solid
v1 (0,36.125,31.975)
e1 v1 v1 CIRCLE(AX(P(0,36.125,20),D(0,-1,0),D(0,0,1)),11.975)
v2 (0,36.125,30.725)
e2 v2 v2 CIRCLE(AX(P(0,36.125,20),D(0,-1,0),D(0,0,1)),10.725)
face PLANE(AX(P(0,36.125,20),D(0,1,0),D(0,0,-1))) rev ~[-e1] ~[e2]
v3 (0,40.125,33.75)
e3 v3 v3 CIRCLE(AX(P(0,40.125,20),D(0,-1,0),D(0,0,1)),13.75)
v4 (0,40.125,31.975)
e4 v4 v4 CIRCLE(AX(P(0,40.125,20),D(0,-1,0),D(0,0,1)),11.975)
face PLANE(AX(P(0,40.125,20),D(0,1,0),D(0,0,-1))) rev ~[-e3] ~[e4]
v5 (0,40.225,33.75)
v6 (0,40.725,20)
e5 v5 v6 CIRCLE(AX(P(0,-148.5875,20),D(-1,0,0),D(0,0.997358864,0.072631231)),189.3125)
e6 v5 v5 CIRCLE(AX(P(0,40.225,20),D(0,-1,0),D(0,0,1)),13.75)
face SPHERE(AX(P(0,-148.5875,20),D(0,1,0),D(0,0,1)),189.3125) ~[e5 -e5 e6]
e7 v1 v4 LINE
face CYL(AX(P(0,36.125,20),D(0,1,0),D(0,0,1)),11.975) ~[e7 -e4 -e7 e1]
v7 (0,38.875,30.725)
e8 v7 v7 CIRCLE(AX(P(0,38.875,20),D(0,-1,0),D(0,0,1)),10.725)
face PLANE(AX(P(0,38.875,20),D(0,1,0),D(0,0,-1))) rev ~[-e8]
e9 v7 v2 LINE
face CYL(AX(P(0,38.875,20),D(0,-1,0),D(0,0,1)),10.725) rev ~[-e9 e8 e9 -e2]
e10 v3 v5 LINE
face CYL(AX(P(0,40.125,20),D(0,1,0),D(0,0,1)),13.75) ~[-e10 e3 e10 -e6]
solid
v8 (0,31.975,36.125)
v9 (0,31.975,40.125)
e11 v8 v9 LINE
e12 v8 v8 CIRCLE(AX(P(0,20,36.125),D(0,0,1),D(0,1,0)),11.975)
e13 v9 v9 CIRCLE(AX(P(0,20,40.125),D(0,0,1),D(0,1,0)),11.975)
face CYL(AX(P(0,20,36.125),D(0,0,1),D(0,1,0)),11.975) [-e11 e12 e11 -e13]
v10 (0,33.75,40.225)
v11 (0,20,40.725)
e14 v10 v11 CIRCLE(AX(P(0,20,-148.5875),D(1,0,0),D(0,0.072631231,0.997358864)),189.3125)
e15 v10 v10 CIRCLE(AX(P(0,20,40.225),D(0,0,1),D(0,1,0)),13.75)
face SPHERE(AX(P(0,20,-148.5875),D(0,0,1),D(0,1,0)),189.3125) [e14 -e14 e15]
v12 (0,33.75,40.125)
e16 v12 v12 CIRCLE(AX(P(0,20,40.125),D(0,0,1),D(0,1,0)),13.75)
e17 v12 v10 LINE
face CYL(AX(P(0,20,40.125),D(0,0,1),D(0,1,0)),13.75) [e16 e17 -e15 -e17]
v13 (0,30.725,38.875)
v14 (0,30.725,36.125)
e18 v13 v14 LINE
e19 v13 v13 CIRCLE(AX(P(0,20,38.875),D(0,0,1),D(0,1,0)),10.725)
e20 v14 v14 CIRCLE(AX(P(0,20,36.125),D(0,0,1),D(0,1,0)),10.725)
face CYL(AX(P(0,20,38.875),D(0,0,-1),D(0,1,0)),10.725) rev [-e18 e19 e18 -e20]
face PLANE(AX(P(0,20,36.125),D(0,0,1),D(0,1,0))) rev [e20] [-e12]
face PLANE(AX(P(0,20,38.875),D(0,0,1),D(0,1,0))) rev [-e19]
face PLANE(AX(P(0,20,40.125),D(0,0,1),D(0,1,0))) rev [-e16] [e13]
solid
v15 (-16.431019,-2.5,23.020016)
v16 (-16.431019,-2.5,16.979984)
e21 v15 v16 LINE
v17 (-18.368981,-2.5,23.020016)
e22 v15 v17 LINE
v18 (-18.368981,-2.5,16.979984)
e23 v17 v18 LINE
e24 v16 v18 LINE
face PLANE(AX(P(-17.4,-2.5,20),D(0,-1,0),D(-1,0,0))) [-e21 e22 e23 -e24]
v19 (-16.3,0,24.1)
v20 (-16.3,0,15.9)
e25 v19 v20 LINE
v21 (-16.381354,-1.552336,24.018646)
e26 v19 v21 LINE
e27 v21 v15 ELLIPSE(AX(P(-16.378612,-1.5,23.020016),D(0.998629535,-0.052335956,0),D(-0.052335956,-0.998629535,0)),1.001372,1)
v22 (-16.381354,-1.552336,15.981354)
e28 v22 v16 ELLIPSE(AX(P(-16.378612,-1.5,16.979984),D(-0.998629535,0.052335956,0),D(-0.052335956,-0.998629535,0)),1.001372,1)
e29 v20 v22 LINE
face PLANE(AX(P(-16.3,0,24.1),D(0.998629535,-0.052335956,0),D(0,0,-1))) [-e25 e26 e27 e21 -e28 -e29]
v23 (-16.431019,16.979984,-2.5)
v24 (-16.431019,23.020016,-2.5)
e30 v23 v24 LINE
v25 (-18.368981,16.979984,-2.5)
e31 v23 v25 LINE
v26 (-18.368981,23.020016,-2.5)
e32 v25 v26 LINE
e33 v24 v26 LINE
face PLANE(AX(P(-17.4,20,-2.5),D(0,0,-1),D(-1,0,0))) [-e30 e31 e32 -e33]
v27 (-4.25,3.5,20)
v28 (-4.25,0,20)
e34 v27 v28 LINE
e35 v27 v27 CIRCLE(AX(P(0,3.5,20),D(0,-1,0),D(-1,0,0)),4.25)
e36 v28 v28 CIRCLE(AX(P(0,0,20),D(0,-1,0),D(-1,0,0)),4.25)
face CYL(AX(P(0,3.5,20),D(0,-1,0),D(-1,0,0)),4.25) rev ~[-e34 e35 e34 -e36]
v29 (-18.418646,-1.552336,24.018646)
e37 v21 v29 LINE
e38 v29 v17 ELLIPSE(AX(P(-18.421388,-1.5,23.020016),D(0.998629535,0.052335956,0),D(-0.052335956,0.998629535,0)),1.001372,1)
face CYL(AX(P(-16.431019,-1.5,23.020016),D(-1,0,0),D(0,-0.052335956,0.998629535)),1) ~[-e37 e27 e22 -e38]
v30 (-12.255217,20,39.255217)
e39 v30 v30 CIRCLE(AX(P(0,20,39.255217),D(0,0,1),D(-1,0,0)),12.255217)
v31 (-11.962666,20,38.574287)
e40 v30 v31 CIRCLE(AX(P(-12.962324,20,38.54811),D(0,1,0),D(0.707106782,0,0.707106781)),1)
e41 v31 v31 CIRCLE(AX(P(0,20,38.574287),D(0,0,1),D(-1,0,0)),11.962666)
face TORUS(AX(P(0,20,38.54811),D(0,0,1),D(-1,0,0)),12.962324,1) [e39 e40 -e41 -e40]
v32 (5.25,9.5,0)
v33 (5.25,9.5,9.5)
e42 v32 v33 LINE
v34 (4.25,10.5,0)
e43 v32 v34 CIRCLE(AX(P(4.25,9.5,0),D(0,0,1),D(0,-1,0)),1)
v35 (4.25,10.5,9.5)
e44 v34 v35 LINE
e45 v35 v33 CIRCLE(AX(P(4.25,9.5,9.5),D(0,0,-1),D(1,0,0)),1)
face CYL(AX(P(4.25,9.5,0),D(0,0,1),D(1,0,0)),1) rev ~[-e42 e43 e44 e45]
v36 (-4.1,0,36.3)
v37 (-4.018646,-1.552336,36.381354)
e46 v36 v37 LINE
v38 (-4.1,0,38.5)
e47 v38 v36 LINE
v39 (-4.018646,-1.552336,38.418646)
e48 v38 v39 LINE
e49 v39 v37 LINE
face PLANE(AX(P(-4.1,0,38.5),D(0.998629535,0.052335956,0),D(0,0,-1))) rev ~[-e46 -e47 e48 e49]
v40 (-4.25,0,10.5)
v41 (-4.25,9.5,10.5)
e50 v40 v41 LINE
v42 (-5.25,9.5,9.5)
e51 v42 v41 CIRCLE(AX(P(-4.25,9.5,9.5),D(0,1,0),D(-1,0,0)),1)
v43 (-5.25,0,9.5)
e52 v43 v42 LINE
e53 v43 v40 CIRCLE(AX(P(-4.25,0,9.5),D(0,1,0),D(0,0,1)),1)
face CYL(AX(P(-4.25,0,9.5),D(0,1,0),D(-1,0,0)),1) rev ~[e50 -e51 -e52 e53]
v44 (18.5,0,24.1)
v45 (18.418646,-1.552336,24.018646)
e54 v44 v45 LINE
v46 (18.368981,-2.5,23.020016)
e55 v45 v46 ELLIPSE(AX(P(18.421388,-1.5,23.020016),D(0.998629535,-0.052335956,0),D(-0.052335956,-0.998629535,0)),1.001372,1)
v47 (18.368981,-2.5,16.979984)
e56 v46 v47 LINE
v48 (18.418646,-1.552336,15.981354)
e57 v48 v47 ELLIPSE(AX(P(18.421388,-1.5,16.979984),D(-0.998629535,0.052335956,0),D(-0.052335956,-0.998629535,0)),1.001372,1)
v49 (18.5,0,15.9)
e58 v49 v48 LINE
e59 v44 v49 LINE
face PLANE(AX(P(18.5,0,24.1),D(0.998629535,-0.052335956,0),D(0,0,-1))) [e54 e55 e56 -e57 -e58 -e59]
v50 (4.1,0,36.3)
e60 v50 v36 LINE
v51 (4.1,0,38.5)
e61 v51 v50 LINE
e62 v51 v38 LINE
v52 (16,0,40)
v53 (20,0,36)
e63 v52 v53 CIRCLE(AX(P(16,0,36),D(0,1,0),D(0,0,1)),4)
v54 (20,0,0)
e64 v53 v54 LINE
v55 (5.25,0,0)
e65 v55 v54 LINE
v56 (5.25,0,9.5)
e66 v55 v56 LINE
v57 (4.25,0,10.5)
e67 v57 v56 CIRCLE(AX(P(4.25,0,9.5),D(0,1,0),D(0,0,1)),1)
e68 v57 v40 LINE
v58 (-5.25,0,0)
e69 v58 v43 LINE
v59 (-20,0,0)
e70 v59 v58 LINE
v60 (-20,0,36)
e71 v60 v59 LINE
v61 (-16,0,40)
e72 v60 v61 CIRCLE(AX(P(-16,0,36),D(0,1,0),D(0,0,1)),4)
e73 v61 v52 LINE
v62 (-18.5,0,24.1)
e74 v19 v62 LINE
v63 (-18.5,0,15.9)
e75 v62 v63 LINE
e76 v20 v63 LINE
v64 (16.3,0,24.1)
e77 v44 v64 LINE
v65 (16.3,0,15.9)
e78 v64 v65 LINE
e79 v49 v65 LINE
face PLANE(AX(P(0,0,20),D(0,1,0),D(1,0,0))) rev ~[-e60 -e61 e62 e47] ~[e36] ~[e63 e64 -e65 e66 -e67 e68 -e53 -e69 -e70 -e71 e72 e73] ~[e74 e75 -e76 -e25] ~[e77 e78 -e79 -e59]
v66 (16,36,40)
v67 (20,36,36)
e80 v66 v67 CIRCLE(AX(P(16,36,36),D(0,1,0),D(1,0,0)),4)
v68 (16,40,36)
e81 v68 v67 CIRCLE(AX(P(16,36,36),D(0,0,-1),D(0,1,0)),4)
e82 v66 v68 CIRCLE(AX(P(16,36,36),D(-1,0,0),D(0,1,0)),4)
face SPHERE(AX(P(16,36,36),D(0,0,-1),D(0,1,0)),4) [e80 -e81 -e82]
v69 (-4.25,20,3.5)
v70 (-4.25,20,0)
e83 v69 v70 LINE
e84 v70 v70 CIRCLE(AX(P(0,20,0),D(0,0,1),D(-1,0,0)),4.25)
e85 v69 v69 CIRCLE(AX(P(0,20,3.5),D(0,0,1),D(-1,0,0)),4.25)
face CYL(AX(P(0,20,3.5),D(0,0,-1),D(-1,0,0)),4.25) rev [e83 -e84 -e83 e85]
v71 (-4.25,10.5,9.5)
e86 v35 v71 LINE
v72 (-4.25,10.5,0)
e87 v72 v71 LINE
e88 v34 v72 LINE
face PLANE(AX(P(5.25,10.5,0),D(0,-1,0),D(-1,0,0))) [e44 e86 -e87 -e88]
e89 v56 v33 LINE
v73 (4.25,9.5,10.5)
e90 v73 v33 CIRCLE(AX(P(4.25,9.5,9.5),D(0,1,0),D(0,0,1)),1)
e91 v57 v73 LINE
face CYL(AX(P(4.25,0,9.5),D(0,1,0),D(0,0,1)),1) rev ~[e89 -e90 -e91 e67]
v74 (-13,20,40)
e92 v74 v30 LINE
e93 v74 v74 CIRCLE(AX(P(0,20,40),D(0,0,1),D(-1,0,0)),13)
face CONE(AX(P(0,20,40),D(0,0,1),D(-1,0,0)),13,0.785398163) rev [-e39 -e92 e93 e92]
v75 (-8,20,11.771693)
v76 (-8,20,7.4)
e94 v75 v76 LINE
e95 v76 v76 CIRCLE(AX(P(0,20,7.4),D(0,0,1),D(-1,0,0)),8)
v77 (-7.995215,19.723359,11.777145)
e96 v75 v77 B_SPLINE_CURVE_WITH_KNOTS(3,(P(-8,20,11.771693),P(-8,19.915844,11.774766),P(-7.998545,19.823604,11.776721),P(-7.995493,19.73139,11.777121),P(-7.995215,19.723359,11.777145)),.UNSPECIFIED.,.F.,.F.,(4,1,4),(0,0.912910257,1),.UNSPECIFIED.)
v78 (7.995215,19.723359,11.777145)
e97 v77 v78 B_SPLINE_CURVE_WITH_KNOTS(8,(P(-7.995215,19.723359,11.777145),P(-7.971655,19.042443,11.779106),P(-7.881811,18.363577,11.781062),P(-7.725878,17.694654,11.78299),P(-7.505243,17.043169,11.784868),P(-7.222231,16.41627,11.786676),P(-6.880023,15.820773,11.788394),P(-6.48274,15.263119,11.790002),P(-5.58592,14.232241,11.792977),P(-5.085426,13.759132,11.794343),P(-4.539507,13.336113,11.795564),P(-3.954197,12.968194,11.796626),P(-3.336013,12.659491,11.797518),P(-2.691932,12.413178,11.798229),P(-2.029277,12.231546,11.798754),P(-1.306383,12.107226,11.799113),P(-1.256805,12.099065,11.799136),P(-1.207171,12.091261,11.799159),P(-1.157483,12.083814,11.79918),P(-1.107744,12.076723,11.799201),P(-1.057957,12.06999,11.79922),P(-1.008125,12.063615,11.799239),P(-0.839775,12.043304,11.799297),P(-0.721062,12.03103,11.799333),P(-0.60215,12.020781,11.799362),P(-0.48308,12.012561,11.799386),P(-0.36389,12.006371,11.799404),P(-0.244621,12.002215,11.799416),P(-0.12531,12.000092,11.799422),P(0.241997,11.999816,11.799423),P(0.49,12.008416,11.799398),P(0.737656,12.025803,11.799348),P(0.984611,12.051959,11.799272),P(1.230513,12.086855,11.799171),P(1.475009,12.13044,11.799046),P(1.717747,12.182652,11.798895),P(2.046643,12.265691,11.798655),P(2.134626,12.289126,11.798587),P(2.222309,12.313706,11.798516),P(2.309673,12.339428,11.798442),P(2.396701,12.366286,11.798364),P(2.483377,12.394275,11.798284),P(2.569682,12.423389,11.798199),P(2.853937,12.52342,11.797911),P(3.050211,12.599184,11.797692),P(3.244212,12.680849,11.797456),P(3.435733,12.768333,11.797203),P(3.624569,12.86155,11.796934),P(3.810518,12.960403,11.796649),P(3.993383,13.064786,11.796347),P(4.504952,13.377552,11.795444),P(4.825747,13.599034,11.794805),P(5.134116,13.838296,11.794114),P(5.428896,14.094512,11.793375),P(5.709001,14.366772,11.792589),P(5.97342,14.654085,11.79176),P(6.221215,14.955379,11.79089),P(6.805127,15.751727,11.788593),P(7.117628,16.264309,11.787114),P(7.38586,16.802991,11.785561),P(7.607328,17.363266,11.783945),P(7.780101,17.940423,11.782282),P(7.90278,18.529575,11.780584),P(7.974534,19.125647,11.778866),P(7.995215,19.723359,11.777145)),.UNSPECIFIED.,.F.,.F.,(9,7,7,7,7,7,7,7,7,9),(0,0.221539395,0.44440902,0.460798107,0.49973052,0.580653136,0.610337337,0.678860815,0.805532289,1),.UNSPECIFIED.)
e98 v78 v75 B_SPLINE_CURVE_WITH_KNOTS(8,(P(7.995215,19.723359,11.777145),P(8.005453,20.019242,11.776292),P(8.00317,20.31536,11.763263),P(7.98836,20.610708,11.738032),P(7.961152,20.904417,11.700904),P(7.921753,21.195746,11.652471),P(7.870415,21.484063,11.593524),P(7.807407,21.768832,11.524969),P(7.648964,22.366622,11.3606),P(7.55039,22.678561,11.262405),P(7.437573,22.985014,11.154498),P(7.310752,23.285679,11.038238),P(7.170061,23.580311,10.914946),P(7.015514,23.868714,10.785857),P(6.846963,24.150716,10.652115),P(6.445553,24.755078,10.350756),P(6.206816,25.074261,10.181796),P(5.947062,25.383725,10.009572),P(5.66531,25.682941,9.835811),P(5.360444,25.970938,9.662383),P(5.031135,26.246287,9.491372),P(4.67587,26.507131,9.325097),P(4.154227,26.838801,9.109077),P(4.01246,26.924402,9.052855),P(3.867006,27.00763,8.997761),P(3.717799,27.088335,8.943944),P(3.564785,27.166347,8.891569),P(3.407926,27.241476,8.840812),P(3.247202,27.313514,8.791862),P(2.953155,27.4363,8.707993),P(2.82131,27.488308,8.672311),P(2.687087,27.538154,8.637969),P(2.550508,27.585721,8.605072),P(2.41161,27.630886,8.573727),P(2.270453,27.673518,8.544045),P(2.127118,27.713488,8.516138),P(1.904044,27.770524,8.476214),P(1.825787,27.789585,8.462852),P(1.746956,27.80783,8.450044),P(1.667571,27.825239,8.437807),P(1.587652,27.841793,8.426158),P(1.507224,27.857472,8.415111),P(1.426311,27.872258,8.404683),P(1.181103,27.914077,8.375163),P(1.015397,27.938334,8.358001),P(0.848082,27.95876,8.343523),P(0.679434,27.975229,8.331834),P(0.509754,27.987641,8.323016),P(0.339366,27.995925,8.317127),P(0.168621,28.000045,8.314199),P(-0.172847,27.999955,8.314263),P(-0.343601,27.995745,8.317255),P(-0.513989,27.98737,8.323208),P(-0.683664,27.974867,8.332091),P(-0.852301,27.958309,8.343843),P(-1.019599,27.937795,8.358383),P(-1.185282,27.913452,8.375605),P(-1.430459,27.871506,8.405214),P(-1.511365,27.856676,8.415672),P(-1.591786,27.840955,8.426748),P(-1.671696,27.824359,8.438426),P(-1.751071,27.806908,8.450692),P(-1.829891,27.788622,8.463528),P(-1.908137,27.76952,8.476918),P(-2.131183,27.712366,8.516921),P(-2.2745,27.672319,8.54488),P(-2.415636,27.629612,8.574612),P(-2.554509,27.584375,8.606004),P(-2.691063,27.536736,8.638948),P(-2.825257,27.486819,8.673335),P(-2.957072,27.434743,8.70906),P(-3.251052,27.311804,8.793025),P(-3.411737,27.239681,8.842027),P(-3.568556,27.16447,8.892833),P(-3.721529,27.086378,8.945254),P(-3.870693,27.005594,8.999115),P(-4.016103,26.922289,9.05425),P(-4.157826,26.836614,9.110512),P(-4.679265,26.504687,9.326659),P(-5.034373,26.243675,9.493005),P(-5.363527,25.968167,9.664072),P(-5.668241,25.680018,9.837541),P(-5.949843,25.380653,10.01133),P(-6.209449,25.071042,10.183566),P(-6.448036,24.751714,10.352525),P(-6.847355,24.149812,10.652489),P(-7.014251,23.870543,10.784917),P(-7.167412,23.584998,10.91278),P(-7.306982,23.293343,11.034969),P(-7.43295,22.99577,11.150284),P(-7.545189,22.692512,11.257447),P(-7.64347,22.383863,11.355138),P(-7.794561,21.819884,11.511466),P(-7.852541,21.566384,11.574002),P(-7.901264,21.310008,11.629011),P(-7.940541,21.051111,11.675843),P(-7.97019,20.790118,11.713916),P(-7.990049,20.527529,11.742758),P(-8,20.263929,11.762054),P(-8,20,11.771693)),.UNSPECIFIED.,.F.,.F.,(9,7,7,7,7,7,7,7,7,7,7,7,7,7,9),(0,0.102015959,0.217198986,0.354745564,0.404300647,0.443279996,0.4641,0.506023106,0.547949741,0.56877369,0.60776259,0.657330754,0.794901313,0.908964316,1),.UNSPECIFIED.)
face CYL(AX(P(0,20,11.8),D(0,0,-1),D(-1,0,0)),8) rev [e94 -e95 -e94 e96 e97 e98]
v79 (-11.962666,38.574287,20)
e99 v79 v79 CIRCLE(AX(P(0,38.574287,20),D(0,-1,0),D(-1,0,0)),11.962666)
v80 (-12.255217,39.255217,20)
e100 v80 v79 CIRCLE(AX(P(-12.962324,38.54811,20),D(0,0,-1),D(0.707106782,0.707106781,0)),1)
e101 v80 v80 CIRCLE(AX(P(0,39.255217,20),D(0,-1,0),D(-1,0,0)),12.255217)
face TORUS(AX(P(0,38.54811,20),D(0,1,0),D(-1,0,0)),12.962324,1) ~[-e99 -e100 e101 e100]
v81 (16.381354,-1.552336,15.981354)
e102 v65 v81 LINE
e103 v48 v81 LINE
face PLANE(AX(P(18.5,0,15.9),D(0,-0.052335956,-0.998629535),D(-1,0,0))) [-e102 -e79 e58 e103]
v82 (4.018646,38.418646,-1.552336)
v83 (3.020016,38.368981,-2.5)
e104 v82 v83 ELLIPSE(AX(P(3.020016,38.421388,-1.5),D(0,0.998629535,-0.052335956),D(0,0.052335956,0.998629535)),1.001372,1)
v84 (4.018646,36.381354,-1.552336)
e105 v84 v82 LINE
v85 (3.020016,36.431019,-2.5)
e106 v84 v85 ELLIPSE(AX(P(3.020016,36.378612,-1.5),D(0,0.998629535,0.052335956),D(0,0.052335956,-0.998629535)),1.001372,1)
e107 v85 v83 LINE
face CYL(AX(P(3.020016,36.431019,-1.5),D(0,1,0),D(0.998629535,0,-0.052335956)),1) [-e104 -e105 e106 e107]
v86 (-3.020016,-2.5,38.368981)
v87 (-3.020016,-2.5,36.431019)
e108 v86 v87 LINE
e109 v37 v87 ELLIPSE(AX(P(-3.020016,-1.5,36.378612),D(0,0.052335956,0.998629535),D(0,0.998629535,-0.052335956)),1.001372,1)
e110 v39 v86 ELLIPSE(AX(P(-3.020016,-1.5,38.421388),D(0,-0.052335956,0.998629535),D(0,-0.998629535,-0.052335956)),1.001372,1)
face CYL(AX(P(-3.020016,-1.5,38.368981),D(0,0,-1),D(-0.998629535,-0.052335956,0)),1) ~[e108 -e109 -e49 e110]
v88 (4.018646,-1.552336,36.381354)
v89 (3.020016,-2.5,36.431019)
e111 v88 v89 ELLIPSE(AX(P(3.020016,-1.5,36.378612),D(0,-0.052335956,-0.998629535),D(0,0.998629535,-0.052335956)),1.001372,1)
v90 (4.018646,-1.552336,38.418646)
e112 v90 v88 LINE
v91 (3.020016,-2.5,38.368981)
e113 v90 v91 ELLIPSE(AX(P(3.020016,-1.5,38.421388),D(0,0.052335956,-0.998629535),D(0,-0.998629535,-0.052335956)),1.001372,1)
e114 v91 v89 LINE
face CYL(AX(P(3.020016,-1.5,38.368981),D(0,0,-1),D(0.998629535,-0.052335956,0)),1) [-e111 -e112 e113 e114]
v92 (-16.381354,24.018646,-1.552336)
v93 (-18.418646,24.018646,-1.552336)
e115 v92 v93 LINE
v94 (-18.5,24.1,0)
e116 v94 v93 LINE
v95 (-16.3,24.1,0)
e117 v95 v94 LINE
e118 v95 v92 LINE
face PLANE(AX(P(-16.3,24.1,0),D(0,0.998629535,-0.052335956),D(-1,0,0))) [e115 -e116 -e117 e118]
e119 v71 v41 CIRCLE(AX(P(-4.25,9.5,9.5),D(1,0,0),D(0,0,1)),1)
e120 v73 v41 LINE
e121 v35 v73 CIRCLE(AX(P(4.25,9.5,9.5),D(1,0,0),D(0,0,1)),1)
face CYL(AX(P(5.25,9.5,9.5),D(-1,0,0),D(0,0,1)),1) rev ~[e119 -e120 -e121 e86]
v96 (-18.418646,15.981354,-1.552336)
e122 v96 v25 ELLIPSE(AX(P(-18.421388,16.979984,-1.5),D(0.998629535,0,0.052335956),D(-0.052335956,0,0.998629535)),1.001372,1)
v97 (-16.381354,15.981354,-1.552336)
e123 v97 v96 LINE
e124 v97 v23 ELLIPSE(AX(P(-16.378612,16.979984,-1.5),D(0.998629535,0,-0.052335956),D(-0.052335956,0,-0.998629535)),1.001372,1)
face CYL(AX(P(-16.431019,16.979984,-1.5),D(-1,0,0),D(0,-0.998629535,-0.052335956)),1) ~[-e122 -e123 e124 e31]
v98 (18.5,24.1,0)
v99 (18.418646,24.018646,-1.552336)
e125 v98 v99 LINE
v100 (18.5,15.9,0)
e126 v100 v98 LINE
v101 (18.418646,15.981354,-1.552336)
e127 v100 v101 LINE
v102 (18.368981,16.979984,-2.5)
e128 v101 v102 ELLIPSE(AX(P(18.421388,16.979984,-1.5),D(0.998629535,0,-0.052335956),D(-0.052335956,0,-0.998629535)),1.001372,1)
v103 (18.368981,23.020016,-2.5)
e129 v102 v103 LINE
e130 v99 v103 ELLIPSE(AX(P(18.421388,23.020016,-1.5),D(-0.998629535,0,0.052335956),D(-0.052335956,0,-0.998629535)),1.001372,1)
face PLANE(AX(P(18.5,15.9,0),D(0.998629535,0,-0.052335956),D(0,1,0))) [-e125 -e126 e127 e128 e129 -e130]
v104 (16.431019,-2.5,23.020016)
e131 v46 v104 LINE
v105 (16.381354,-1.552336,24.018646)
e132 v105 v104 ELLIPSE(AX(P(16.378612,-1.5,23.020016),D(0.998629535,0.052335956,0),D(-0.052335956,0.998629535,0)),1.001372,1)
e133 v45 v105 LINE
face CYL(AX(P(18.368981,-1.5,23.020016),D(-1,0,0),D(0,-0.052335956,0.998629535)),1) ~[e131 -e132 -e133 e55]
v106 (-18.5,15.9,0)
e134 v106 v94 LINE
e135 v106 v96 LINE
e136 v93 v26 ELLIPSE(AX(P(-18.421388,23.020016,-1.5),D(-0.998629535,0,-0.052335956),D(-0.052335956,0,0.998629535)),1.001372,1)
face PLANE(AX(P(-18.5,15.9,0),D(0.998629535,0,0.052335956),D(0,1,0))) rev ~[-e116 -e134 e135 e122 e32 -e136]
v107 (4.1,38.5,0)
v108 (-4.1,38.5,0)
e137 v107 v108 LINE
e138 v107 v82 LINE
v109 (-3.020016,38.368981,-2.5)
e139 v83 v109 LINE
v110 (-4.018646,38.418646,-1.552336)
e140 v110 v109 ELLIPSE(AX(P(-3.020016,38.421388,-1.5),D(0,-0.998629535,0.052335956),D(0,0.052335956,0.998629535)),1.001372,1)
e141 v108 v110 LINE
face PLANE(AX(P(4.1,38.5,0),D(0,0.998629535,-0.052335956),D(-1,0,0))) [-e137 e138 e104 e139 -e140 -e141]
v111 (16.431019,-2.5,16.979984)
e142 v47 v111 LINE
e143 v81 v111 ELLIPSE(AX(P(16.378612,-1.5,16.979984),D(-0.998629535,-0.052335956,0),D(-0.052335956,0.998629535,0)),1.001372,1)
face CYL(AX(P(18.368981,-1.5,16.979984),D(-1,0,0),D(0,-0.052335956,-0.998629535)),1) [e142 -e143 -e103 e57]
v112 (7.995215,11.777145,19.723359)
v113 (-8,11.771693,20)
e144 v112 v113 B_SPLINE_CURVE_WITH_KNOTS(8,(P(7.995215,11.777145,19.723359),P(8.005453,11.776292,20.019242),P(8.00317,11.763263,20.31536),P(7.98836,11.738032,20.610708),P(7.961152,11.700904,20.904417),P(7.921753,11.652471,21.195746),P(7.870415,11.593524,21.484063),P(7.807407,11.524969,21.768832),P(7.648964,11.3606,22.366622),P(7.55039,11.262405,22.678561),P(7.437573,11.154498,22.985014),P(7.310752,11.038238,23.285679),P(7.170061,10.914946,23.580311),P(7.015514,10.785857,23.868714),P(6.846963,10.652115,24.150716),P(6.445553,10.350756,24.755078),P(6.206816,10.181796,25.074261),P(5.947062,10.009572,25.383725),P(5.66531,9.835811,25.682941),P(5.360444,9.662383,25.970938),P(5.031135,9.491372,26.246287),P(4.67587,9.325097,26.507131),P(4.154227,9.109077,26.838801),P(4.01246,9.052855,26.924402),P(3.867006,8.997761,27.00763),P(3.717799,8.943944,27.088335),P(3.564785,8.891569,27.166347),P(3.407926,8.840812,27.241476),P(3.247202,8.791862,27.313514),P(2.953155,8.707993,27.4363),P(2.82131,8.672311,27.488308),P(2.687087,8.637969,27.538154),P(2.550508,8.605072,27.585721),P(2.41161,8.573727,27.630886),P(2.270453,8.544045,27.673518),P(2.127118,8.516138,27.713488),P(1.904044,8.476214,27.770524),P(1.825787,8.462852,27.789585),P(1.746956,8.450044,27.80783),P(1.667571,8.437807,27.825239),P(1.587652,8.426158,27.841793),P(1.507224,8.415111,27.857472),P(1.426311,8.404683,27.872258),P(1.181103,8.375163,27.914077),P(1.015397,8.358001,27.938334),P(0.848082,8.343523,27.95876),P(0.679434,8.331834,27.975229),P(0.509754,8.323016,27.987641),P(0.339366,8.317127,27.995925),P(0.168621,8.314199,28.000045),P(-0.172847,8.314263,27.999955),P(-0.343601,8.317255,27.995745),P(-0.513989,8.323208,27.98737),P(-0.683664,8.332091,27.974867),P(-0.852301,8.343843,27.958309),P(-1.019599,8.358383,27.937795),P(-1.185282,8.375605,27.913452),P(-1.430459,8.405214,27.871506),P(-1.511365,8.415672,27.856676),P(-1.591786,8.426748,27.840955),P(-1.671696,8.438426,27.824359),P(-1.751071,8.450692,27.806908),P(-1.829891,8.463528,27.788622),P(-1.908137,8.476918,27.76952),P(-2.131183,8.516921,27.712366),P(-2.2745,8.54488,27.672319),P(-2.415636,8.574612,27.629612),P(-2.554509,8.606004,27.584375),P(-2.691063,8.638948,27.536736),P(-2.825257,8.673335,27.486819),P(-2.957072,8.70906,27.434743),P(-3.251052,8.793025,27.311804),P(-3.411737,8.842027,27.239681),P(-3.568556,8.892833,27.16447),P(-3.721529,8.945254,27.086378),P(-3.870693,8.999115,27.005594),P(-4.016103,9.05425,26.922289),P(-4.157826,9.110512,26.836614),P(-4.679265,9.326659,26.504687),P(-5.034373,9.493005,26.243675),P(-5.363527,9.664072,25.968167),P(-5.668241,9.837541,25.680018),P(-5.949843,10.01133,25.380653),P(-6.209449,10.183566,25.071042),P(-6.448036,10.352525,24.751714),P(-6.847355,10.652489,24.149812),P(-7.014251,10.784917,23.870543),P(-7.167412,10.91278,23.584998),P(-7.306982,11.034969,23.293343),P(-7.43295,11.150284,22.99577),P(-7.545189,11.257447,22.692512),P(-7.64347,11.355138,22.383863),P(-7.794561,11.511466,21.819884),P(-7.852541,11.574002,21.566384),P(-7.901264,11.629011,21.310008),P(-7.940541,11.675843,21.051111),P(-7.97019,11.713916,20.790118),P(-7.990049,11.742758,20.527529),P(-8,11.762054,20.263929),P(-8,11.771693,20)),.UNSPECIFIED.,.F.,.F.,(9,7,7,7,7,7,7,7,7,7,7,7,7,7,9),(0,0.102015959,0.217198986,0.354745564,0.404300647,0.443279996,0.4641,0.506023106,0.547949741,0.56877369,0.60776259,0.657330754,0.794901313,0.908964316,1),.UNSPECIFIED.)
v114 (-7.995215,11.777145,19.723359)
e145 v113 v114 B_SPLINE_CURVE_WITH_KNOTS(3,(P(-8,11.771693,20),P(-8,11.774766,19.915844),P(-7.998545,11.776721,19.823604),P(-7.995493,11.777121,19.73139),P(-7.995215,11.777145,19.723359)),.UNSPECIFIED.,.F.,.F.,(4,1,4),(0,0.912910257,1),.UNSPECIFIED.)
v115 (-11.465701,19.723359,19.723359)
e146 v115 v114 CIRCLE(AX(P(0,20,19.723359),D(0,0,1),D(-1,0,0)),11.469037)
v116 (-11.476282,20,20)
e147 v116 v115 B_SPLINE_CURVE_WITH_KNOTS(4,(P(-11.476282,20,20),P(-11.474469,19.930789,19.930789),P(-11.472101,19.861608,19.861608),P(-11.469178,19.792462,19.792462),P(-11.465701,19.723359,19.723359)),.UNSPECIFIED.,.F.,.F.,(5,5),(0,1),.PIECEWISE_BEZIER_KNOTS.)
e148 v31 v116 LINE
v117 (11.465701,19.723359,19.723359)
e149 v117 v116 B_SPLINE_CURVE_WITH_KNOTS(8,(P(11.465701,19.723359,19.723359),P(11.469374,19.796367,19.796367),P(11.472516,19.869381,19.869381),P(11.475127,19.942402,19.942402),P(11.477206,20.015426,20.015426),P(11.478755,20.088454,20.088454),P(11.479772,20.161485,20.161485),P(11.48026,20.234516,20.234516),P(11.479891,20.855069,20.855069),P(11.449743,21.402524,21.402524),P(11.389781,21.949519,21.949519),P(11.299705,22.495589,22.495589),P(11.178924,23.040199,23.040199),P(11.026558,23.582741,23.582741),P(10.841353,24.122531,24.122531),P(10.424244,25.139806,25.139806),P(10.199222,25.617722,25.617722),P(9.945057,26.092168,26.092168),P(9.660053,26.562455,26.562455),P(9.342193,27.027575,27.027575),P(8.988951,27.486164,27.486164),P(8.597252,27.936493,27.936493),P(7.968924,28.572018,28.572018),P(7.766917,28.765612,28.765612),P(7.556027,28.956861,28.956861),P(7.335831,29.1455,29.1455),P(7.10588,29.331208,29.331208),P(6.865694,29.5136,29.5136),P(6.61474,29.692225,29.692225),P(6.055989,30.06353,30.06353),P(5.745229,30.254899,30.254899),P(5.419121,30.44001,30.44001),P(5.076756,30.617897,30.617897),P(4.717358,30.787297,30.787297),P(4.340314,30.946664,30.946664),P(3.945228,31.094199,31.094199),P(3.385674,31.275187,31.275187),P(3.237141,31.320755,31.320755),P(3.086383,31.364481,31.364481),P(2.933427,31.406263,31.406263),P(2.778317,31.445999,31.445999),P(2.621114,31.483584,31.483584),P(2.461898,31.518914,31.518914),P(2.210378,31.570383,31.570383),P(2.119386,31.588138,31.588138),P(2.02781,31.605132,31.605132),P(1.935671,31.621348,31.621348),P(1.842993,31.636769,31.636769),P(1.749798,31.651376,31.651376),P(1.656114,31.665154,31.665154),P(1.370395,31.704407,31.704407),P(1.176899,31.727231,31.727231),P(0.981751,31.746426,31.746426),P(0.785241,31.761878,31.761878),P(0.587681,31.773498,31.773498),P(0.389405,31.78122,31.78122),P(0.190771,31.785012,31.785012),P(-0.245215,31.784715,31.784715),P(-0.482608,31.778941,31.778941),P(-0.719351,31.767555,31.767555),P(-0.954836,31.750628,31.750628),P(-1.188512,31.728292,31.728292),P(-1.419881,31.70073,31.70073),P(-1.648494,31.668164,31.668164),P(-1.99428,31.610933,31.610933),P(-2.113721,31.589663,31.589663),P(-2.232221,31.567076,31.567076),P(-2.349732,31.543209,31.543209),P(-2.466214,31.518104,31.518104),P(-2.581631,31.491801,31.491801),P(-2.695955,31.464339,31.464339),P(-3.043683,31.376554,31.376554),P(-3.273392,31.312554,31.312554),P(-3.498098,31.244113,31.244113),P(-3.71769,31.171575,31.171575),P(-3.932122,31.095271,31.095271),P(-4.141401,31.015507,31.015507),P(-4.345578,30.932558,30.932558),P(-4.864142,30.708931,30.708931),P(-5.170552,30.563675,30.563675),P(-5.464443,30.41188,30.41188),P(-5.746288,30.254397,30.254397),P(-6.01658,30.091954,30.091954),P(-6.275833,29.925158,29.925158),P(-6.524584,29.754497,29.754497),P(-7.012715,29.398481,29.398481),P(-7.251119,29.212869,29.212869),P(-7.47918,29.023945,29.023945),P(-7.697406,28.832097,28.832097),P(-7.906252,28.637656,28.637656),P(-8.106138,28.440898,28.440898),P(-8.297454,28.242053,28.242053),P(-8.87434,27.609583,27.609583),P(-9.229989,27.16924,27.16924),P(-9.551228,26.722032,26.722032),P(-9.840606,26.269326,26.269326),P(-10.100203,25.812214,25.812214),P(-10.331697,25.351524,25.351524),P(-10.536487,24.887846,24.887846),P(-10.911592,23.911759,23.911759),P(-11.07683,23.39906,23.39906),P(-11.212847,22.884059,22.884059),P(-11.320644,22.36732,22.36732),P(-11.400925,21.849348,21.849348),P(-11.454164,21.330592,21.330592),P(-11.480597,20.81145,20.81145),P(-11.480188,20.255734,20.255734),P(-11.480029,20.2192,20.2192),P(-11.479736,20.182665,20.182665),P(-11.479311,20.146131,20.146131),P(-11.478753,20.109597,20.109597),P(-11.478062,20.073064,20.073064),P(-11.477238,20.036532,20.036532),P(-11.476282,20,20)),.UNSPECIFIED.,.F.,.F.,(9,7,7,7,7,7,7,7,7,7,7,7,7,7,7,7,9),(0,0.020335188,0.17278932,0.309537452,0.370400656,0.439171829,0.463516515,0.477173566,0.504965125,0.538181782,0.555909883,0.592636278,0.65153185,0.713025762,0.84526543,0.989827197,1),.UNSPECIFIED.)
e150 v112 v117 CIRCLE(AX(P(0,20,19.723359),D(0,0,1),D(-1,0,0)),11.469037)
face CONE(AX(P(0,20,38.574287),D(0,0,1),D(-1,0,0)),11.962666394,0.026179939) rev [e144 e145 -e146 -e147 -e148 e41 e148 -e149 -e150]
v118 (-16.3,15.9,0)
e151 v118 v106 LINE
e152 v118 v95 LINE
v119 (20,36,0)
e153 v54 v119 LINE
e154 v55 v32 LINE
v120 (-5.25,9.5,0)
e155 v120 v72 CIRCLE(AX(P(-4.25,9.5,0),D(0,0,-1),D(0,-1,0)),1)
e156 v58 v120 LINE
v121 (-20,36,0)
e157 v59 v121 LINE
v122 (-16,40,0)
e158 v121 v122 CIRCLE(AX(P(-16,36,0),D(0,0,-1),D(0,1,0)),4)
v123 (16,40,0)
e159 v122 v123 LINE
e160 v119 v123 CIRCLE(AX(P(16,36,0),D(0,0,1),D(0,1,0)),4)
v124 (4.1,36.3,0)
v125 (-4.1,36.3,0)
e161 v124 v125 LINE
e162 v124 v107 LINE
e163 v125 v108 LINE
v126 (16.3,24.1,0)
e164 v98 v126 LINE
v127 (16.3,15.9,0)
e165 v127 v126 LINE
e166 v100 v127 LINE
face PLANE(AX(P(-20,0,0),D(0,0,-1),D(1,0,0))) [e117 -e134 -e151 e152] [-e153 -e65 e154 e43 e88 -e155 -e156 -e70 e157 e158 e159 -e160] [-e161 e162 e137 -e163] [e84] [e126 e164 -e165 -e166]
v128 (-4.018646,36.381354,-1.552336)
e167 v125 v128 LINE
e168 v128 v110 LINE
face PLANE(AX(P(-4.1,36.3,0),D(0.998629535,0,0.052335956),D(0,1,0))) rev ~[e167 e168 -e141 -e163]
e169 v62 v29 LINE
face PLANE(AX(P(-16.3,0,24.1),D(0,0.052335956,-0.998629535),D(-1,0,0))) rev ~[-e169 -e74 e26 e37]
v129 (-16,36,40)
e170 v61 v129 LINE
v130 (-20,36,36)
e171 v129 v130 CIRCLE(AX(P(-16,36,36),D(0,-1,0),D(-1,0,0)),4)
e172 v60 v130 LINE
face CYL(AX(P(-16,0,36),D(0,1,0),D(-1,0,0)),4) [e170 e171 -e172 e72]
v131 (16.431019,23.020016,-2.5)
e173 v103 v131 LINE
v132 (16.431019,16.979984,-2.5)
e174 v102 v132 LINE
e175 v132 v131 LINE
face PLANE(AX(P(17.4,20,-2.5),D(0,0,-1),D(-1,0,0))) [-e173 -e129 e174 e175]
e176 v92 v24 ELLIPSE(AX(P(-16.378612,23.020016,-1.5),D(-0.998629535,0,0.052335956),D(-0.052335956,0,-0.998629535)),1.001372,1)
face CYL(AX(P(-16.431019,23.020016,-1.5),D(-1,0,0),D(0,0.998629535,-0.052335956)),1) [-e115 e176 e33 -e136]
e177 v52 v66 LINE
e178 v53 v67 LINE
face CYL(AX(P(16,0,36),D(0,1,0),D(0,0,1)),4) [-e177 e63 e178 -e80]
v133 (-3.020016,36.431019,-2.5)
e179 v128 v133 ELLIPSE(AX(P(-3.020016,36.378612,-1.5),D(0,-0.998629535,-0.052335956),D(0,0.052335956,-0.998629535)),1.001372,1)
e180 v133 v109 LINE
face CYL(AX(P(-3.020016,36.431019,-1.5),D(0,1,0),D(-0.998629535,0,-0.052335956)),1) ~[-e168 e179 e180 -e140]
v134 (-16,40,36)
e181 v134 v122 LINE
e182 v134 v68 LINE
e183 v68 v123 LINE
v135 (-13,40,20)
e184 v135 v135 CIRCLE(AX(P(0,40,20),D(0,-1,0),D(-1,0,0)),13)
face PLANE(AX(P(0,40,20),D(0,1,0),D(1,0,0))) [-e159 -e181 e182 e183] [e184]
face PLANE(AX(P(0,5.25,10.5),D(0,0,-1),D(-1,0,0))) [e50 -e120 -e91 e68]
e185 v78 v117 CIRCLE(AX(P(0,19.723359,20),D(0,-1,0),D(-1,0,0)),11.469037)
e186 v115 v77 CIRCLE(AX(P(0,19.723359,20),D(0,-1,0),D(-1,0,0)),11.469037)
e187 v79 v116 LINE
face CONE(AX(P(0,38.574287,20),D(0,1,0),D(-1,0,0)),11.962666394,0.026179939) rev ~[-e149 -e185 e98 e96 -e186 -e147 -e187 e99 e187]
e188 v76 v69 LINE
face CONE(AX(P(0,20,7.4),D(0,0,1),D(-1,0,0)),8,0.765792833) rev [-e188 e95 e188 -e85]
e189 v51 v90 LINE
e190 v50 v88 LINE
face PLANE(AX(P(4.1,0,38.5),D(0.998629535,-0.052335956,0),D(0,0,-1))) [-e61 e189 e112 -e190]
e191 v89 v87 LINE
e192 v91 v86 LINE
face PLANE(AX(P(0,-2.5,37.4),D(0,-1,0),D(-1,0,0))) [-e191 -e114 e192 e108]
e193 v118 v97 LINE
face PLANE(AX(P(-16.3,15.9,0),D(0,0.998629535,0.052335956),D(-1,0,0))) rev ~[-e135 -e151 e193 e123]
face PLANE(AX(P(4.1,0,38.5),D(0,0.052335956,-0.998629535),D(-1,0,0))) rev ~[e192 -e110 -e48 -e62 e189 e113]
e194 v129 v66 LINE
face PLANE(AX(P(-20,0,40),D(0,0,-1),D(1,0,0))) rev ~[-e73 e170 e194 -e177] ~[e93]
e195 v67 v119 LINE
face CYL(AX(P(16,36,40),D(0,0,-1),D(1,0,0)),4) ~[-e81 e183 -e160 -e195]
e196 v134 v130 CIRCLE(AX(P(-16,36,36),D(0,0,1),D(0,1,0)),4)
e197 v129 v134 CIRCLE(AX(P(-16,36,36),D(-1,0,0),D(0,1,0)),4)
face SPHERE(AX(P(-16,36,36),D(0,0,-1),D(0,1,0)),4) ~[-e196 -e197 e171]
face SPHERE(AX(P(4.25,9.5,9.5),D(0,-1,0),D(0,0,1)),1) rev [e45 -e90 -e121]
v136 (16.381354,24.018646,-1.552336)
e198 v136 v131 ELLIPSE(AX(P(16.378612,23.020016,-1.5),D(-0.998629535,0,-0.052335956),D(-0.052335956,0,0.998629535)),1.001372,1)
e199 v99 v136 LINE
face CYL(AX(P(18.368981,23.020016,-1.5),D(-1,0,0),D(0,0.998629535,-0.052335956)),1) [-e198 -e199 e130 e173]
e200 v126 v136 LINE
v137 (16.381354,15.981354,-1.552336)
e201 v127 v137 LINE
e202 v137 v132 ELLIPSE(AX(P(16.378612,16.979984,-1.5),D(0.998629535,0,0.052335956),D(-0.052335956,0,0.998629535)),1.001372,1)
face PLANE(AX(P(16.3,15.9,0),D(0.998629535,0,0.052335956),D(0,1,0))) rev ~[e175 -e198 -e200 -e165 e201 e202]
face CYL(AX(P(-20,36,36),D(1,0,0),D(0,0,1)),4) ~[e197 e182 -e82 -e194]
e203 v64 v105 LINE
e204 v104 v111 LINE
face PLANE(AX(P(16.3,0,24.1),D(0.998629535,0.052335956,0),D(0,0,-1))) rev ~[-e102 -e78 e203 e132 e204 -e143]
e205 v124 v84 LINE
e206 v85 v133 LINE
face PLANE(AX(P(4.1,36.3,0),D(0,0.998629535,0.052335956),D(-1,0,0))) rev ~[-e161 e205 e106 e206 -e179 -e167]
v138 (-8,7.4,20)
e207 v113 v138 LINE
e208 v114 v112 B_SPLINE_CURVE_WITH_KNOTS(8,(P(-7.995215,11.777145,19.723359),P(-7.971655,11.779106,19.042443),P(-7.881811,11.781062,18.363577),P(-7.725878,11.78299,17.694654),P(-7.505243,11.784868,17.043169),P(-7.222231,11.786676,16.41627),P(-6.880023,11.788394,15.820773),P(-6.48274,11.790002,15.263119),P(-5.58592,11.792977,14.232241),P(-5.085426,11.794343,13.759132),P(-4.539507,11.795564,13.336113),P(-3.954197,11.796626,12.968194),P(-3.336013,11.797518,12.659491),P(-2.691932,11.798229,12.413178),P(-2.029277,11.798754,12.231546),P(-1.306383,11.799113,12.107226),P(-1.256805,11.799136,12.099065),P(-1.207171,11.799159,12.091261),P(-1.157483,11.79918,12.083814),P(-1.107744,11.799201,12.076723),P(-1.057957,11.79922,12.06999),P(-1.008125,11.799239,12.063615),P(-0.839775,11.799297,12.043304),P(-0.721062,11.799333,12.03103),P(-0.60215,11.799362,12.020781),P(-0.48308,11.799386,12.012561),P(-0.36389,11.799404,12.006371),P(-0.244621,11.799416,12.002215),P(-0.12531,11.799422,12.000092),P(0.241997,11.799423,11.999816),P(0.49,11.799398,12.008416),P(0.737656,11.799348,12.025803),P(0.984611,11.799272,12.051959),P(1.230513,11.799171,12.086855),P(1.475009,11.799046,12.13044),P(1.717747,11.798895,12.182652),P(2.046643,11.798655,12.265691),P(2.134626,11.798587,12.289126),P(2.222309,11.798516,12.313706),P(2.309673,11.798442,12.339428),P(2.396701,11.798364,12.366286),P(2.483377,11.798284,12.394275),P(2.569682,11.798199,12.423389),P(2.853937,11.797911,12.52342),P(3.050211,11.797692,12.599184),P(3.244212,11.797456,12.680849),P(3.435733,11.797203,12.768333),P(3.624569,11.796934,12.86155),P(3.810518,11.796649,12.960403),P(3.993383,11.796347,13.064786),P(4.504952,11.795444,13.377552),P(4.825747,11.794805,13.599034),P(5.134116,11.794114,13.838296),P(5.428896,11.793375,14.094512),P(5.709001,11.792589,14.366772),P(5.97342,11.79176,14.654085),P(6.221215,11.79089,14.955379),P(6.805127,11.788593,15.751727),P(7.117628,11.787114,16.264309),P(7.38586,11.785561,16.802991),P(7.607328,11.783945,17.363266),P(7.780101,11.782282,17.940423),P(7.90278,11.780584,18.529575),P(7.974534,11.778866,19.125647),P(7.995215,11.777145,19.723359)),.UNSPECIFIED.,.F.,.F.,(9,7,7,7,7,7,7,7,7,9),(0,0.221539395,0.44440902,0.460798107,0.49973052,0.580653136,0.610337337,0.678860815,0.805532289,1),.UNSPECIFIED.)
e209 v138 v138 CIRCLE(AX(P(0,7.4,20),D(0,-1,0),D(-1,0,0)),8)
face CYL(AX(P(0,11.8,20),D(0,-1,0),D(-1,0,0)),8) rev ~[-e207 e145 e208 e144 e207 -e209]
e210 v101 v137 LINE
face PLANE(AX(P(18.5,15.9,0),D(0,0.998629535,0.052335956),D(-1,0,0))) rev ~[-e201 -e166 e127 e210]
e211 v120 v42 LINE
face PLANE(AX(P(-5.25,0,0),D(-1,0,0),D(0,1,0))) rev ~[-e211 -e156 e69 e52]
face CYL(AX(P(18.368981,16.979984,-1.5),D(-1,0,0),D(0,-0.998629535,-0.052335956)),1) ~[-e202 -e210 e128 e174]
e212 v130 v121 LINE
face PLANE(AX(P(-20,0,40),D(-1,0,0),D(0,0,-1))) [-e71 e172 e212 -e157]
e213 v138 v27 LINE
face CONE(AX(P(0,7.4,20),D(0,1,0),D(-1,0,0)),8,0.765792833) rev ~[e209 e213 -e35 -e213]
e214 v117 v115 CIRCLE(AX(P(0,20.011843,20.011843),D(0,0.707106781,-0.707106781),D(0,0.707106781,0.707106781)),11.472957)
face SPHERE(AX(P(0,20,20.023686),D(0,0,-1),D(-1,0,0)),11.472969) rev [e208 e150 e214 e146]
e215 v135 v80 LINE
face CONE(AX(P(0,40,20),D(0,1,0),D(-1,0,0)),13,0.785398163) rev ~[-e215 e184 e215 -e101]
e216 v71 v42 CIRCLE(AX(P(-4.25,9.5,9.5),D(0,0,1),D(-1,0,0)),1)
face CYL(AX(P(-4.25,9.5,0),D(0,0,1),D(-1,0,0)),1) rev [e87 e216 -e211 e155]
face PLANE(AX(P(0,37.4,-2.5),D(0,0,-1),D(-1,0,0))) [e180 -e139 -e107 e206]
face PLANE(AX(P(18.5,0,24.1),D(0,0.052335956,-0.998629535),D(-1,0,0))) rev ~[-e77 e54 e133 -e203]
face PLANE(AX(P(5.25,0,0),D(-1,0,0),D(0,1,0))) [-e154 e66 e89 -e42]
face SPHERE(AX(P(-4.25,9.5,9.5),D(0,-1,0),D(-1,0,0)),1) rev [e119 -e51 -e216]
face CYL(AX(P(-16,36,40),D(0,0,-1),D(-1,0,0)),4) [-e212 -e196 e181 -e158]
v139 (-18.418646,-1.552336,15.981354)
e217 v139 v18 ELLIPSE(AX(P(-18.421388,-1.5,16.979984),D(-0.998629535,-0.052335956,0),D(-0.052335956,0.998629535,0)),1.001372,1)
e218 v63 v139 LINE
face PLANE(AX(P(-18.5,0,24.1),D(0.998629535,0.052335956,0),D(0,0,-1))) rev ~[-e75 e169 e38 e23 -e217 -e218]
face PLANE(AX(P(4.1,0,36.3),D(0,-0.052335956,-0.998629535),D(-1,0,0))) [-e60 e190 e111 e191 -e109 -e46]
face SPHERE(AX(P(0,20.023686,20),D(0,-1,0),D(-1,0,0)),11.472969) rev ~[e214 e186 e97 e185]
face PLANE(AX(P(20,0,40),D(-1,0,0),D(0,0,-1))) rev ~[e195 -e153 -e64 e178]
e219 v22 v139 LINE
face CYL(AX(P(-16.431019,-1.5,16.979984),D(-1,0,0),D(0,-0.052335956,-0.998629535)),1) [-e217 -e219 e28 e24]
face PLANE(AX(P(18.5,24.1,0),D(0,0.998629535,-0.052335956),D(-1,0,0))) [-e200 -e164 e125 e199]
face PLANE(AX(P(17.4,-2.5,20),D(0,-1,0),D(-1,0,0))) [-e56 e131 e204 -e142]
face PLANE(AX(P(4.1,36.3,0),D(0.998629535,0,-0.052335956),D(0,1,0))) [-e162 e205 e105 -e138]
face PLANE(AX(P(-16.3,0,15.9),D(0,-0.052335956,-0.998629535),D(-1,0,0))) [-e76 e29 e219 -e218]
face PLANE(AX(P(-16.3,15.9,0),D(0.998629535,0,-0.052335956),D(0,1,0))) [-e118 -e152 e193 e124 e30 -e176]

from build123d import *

# Parameters (mm, degrees)
SKETCH1_W                     = 40
SKETCH1_H                     = 40
BOSS_EXTRUDE1_DEPTH           = 40
SKETCH3_W                     = 8.2
SKETCH3_H                     = 2.2
BOSS_EXTRUDE2_DEPTH           = 2.5
BOSS_EXTRUDE2_DRAFT           = 3
SKETCH3_W_2                   = 2.2
SKETCH3_H_2                   = 8.2
BOSS_EXTRUDE2_PROFILE_2_DEPTH = 2.5
BOSS_EXTRUDE2_PROFILE_2_DRAFT = 3
BOSS_EXTRUDE2_PROFILE_3_DEPTH = 2.5
BOSS_EXTRUDE2_PROFILE_3_DRAFT = 3
FILLET1_R                     = 1
MIRROR1_COPY_1_SKETCH_W       = 8.2
MIRROR1_COPY_1_SKETCH_H       = 2.2
MIRROR1_COPY_1_DEPTH          = 2.5
MIRROR1_COPY_1_DRAFT          = 3
MIRROR1_COPY_2_SKETCH_W       = 2.2
MIRROR1_COPY_2_SKETCH_H       = 8.2
MIRROR1_COPY_2_DEPTH          = 2.5
MIRROR1_COPY_2_DRAFT          = 3
MIRROR1_COPY_3_SKETCH_W       = 2.2
MIRROR1_COPY_3_SKETCH_H       = 8.2
MIRROR1_COPY_3_DEPTH          = 2.5
MIRROR1_COPY_3_DRAFT          = 3
MIRROR1_COPY_4_SKETCH_W       = 2.2
MIRROR1_COPY_4_SKETCH_H       = 8.2
MIRROR1_COPY_4_DEPTH          = 2.5
MIRROR1_COPY_4_DRAFT          = 3
MIRROR1_COPY_5_SKETCH_W       = 2.2
MIRROR1_COPY_5_SKETCH_H       = 8.2
MIRROR1_COPY_5_DEPTH          = 2.5
MIRROR1_COPY_5_DRAFT          = 3
FILLET1_OF_MIRROR1_R          = 1
SKETCH5_W                     = 10.5
SKETCH5_H                     = 10.5
CUT_EXTRUDE2_DEPTH            = 10.5
FILLET3_R                     = 1
FILLET4_R                     = 4


with BuildPart() as part:
    # Sketch1 → Boss-Extrude1 (new body)
    with BuildSketch(Plane(origin=(0, 0, 0), x_dir=(1, 0, 0), z_dir=(0, 1, 0))):
        with Locations((0, -20)):
            Rectangle(SKETCH1_W, SKETCH1_H)
    extrude(amount=BOSS_EXTRUDE1_DEPTH)

    # Sketch2 → Cut-Revolve1 (revolve, cut)
    with BuildSketch(Plane(origin=(0, 0, 0), x_dir=(0, 0, -1), z_dir=(1, 0, 0)), mode=Mode.PRIVATE) as cut_revolve1_sk:
        with BuildLine():
            Line((-40, 20), (-40, 33))
            Line((-40, 33), (-39.255216938, 32.255216938))
            ThreePointArc((-39.255216938, 32.255216938), (-38.942854013, 32.043532509), (-38.574287105, 31.962666394))
            Line((-38.574287105, 31.962666394), (-19.723359022, 31.46903747))
            ThreePointArc((-19.723359022, 31.46903747), (-15.422245538, 30.509793506), (-11.8, 28))
            Line((-11.8, 28), (-7.4, 28))
            Line((-7.4, 28), (-3.5, 24.25))
            Line((-3.5, 24.25), (0, 24.25))
            Line((0, 24.25), (0, 20))
            Line((0, 20), (-40, 20))
        make_face()
    cut_revolve1 = revolve(cut_revolve1_sk.sketch.rotate(Axis((0, 20, 0), (0, 0, 1)), 90), axis=Axis((0, 20, 0), (0, 0, 1)), mode=Mode.SUBTRACT)


with BuildPart() as boss_extrude2_tool:
    # Sketch3 → Boss-Extrude2 (with draft: the straight prism first)
    with BuildSketch(Plane(origin=(0, 0, 0), x_dir=(-1, 0, 0), z_dir=(0, 0, -1))):
        with Locations((0, 37.4)):
            Rectangle(SKETCH3_W, SKETCH3_H)
    extrude(amount=BOSS_EXTRUDE2_DEPTH)
    # Boss-Extrude2: the draft: its side faces are tilted about the plane it starts from
    boss_extrude2_sides = [boss_extrude2_tool.faces().sort_by_distance(p)[0] for p in [
        (4.1, 37.4, -1.25),
        (0, 36.3, -1.25),
        (-4.1, 37.4, -1.25),
        (0, 38.5, -1.25),
    ]]
    draft(boss_extrude2_sides, Plane(origin=(0, 0, 0), x_dir=(-1, 0, 0), z_dir=(0, 0, -1)), BOSS_EXTRUDE2_DRAFT)


with BuildPart() as part_1:
    add(part.part)

    # Boss-Extrude2: add boss_extrude2_tool
    add(boss_extrude2_tool.part)


with BuildPart() as boss_extrude2_profile_2_tool:
    # Sketch3 → Boss-Extrude2 profile 2 (with draft: the straight prism first)
    with BuildSketch(Plane(origin=(0, 0, 0), x_dir=(-1, 0, 0), z_dir=(0, 0, -1))):
        with Locations((-17.4, 20)):
            Rectangle(SKETCH3_W_2, SKETCH3_H_2)
    extrude(amount=BOSS_EXTRUDE2_PROFILE_2_DEPTH)
    # Boss-Extrude2 profile 2: the draft: its side faces are tilted about the plane it starts from
    boss_extrude2_profile_2_sides = [boss_extrude2_profile_2_tool.faces().sort_by_distance(p)[0] for p in [
        (18.5, 20, -1.25),
        (17.4, 15.9, -1.25),
        (16.3, 20, -1.25),
        (17.4, 24.1, -1.25),
    ]]
    draft(boss_extrude2_profile_2_sides, Plane(origin=(0, 0, 0), x_dir=(-1, 0, 0), z_dir=(0, 0, -1)), BOSS_EXTRUDE2_PROFILE_2_DRAFT)


with BuildPart() as part_2:
    add(part_1.part)

    # Boss-Extrude2 profile 2: add boss_extrude2_profile_2_tool
    add(boss_extrude2_profile_2_tool.part)


with BuildPart() as boss_extrude2_profile_3_tool:
    # Sketch3 → Boss-Extrude2 profile 3 (with draft: the straight prism first)
    with BuildSketch(Plane(origin=(0, 0, 0), x_dir=(-1, 0, 0), z_dir=(0, 0, -1))):
        with Locations((17.4, 20)):
            Rectangle(SKETCH3_W_2, SKETCH3_H_2)
    extrude(amount=BOSS_EXTRUDE2_PROFILE_3_DEPTH)
    # Boss-Extrude2 profile 3: the draft: its side faces are tilted about the plane it starts from
    boss_extrude2_profile_3_sides = [boss_extrude2_profile_3_tool.faces().sort_by_distance(p)[0] for p in [
        (-16.3, 20, -1.25),
        (-17.4, 15.9, -1.25),
        (-18.5, 20, -1.25),
        (-17.4, 24.1, -1.25),
    ]]
    draft(boss_extrude2_profile_3_sides, Plane(origin=(0, 0, 0), x_dir=(-1, 0, 0), z_dir=(0, 0, -1)), BOSS_EXTRUDE2_PROFILE_3_DRAFT)


with BuildPart() as part_3:
    add(part_2.part)

    # Boss-Extrude2 profile 3: add boss_extrude2_profile_3_tool
    add(boss_extrude2_profile_3_tool.part)

    # Fillet1
    fillet1_edges = [part_3.edges().sort_by_distance(p)[0] for p in [
        (3.968980552, 37.4, -2.5),
        (-3.968980552, 37.4, -2.5),
        (17.4, 16.031019448, -2.5),
        (17.4, 23.968980552, -2.5),
        (-17.4, 16.031019448, -2.5),
        (-17.4, 23.968980552, -2.5),
    ]]
    fillet(fillet1_edges, radius=FILLET1_R)

    # Mirror1: Cut-Revolve1 across plane
    add(cut_revolve1.mirror(Plane(origin=(0, 0, 0), x_dir=(0, 0.7071067811865478, 0.7071067811865472), z_dir=(0, 0.7071067811865475, -0.7071067811865477))), mode=Mode.SUBTRACT)


with BuildPart() as mirror1_copy_1_tool:
    # Mirror1 copy 1 sketch → Mirror1 copy 1 (with draft: the straight prism first)
    with BuildSketch(Plane(origin=(0, 0, 0), x_dir=(-1, 0, 0), z_dir=(0, -1, 0))):
        with Locations((0, -37.4)):
            Rectangle(MIRROR1_COPY_1_SKETCH_W, MIRROR1_COPY_1_SKETCH_H)
    extrude(amount=MIRROR1_COPY_1_DEPTH)
    # Mirror1 copy 1: the draft: its side faces are tilted about the plane it starts from
    mirror1_copy_1_sides = [mirror1_copy_1_tool.faces().sort_by_distance(p)[0] for p in [
        (4.1, -1.25, 37.4),
        (0, -1.25, 36.3),
        (-4.1, -1.25, 37.4),
        (0, -1.25, 38.5),
    ]]
    draft(mirror1_copy_1_sides, Plane(origin=(0, 0, 0), x_dir=(-1, 0, 0), z_dir=(0, -1, 0)), MIRROR1_COPY_1_DRAFT)


with BuildPart() as part_4:
    add(part_3.part)

    # Mirror1 copy 1: add mirror1_copy_1_tool
    add(mirror1_copy_1_tool.part)


with BuildPart() as mirror1_copy_2_tool:
    # Mirror1 copy 2 sketch → Mirror1 copy 2 (with draft: the straight prism first)
    with BuildSketch(Plane(origin=(0, 0, 0), x_dir=(-1, 0, 0), z_dir=(0, -1, 0))):
        with Locations((-17.4, -20)):
            Rectangle(MIRROR1_COPY_2_SKETCH_W, MIRROR1_COPY_2_SKETCH_H)
    extrude(amount=MIRROR1_COPY_2_DEPTH)
    # Mirror1 copy 2: the draft: its side faces are tilted about the plane it starts from
    mirror1_copy_2_sides = [mirror1_copy_2_tool.faces().sort_by_distance(p)[0] for p in [
        (18.5, -1.25, 20),
        (17.4, -1.25, 15.9),
        (16.3, -1.25, 20),
        (17.4, -1.25, 24.1),
    ]]
    draft(mirror1_copy_2_sides, Plane(origin=(0, 0, 0), x_dir=(-1, 0, 0), z_dir=(0, -1, 0)), MIRROR1_COPY_2_DRAFT)


with BuildPart() as part_5:
    add(part_4.part)

    # Mirror1 copy 2: add mirror1_copy_2_tool
    add(mirror1_copy_2_tool.part)


with BuildPart() as mirror1_copy_3_tool:
    # Mirror1 copy 3 sketch → Mirror1 copy 3 (with draft: the straight prism first)
    with BuildSketch(Plane(origin=(0, 0, 0), x_dir=(-1, 0, 0), z_dir=(0, -1, 0))):
        with Locations((17.4, -20)):
            Rectangle(MIRROR1_COPY_3_SKETCH_W, MIRROR1_COPY_3_SKETCH_H)
    extrude(amount=MIRROR1_COPY_3_DEPTH)
    # Mirror1 copy 3: the draft: its side faces are tilted about the plane it starts from
    mirror1_copy_3_sides = [mirror1_copy_3_tool.faces().sort_by_distance(p)[0] for p in [
        (-16.3, -1.25, 20),
        (-17.4, -1.25, 15.9),
        (-18.5, -1.25, 20),
        (-17.4, -1.25, 24.1),
    ]]
    draft(mirror1_copy_3_sides, Plane(origin=(0, 0, 0), x_dir=(-1, 0, 0), z_dir=(0, -1, 0)), MIRROR1_COPY_3_DRAFT)


with BuildPart() as part_6:
    add(part_5.part)

    # Mirror1 copy 3: add mirror1_copy_3_tool
    add(mirror1_copy_3_tool.part)


with BuildPart() as mirror1_copy_4_tool:
    # Mirror1 copy 4 sketch → Mirror1 copy 4 (with draft: the straight prism first)
    with BuildSketch(Plane(origin=(0, 0, 0), x_dir=(-1, 0, 0), z_dir=(0, -1, 0))):
        with Locations((-17.4, -20)):
            Rectangle(MIRROR1_COPY_4_SKETCH_W, MIRROR1_COPY_4_SKETCH_H)
    extrude(amount=MIRROR1_COPY_4_DEPTH)
    # Mirror1 copy 4: the draft: its side faces are tilted about the plane it starts from
    mirror1_copy_4_sides = [mirror1_copy_4_tool.faces().sort_by_distance(p)[0] for p in [
        (18.5, -1.25, 20),
        (17.4, -1.25, 15.9),
        (16.3, -1.25, 20),
        (17.4, -1.25, 24.1),
    ]]
    draft(mirror1_copy_4_sides, Plane(origin=(0, 0, 0), x_dir=(-1, 0, 0), z_dir=(0, -1, 0)), MIRROR1_COPY_4_DRAFT)


with BuildPart() as part_7:
    add(part_6.part)

    # Mirror1 copy 4: add mirror1_copy_4_tool
    add(mirror1_copy_4_tool.part)


with BuildPart() as mirror1_copy_5_tool:
    # Mirror1 copy 5 sketch → Mirror1 copy 5 (with draft: the straight prism first)
    with BuildSketch(Plane(origin=(0, 0, 0), x_dir=(-1, 0, 0), z_dir=(0, -1, 0))):
        with Locations((17.4, -20)):
            Rectangle(MIRROR1_COPY_5_SKETCH_W, MIRROR1_COPY_5_SKETCH_H)
    extrude(amount=MIRROR1_COPY_5_DEPTH)
    # Mirror1 copy 5: the draft: its side faces are tilted about the plane it starts from
    mirror1_copy_5_sides = [mirror1_copy_5_tool.faces().sort_by_distance(p)[0] for p in [
        (-16.3, -1.25, 20),
        (-17.4, -1.25, 15.9),
        (-18.5, -1.25, 20),
        (-17.4, -1.25, 24.1),
    ]]
    draft(mirror1_copy_5_sides, Plane(origin=(0, 0, 0), x_dir=(-1, 0, 0), z_dir=(0, -1, 0)), MIRROR1_COPY_5_DRAFT)


with BuildPart() as part_8:
    add(part_7.part)

    # Mirror1 copy 5: add mirror1_copy_5_tool
    add(mirror1_copy_5_tool.part)

    # Fillet1 of Mirror1
    fillet1_of_mirror1_edges = [part_8.edges().sort_by_distance(p)[0] for p in [
        (3.968980552, -2.5, 37.4),
        (-3.968980552, -2.5, 37.4),
        (17.4, -2.5, 16.031019448),
        (17.4, -2.5, 23.968980552),
        (-17.4, -2.5, 16.031019448),
        (-17.4, -2.5, 23.968980552),
    ]]
    fillet(fillet1_of_mirror1_edges, radius=FILLET1_OF_MIRROR1_R)

    # Sketch5 → Cut-Extrude2 (cut)
    with BuildSketch(Plane(origin=(0, 0, 0), x_dir=(-1, 0, 0), z_dir=(0, 0, -1))):
        with Locations((0, 5.25)):
            Rectangle(SKETCH5_W, SKETCH5_H)
    extrude(amount=-CUT_EXTRUDE2_DEPTH, mode=Mode.SUBTRACT)

    # Fillet3
    fillet3_edges = [part_8.edges().sort_by_distance(p)[0] for p in [
        (-5.25, 5.25, 10.5),
        (-5.25, 10.5, 5.25),
        (5.25, 5.25, 10.5),
        (0, 10.5, 10.5),
        (5.25, 10.5, 5.25),
    ]]
    fillet(fillet3_edges, radius=FILLET3_R)

    # Fillet4
    fillet4_edges = [part_8.edges().sort_by_distance(p)[0] for p in [
        (20, 40, 20),
        (-20, 40, 20),
        (0, 40, 40),
        (20, 20, 40),
        (-20, 20, 40),
    ]]
    fillet(fillet4_edges, radius=FILLET4_R)


with BuildPart() as body_2:
    # Sketch6 → Revolve1 (revolve)
    with BuildSketch(Plane(origin=(0, 0, 0), x_dir=(0, 0, -1), z_dir=(1, 0, 0))):
        with BuildLine():
            Line((-40.725, 20), (-38.875, 20))
            Line((-38.875, 20), (-38.875, 30.725))
            Line((-38.875, 30.725), (-36.125, 30.725))
            Line((-36.125, 30.725), (-36.125, 31.975))
            Line((-36.125, 31.975), (-40.125, 31.975))
            Line((-40.125, 31.975), (-40.125, 33.75))
            Line((-40.125, 33.75), (-40.225, 33.75))
            ThreePointArc((-40.225, 33.75), (-40.599958705, 26.879543953), (-40.725, 20))
        make_face()
    revolve(axis=Axis((0, 20, 0), (0, 0, 1)))


with BuildPart() as body_3:
    # Mirror2: mirrored copy
    add(body_2.part.mirror(Plane(origin=(0, 0, 0), x_dir=(0, 0.7071067811865478, 0.7071067811865472), z_dir=(0, 0.7071067811865475, -0.7071067811865477))))


solid = Compound([part_8.part, body_2.part, body_3.part])
